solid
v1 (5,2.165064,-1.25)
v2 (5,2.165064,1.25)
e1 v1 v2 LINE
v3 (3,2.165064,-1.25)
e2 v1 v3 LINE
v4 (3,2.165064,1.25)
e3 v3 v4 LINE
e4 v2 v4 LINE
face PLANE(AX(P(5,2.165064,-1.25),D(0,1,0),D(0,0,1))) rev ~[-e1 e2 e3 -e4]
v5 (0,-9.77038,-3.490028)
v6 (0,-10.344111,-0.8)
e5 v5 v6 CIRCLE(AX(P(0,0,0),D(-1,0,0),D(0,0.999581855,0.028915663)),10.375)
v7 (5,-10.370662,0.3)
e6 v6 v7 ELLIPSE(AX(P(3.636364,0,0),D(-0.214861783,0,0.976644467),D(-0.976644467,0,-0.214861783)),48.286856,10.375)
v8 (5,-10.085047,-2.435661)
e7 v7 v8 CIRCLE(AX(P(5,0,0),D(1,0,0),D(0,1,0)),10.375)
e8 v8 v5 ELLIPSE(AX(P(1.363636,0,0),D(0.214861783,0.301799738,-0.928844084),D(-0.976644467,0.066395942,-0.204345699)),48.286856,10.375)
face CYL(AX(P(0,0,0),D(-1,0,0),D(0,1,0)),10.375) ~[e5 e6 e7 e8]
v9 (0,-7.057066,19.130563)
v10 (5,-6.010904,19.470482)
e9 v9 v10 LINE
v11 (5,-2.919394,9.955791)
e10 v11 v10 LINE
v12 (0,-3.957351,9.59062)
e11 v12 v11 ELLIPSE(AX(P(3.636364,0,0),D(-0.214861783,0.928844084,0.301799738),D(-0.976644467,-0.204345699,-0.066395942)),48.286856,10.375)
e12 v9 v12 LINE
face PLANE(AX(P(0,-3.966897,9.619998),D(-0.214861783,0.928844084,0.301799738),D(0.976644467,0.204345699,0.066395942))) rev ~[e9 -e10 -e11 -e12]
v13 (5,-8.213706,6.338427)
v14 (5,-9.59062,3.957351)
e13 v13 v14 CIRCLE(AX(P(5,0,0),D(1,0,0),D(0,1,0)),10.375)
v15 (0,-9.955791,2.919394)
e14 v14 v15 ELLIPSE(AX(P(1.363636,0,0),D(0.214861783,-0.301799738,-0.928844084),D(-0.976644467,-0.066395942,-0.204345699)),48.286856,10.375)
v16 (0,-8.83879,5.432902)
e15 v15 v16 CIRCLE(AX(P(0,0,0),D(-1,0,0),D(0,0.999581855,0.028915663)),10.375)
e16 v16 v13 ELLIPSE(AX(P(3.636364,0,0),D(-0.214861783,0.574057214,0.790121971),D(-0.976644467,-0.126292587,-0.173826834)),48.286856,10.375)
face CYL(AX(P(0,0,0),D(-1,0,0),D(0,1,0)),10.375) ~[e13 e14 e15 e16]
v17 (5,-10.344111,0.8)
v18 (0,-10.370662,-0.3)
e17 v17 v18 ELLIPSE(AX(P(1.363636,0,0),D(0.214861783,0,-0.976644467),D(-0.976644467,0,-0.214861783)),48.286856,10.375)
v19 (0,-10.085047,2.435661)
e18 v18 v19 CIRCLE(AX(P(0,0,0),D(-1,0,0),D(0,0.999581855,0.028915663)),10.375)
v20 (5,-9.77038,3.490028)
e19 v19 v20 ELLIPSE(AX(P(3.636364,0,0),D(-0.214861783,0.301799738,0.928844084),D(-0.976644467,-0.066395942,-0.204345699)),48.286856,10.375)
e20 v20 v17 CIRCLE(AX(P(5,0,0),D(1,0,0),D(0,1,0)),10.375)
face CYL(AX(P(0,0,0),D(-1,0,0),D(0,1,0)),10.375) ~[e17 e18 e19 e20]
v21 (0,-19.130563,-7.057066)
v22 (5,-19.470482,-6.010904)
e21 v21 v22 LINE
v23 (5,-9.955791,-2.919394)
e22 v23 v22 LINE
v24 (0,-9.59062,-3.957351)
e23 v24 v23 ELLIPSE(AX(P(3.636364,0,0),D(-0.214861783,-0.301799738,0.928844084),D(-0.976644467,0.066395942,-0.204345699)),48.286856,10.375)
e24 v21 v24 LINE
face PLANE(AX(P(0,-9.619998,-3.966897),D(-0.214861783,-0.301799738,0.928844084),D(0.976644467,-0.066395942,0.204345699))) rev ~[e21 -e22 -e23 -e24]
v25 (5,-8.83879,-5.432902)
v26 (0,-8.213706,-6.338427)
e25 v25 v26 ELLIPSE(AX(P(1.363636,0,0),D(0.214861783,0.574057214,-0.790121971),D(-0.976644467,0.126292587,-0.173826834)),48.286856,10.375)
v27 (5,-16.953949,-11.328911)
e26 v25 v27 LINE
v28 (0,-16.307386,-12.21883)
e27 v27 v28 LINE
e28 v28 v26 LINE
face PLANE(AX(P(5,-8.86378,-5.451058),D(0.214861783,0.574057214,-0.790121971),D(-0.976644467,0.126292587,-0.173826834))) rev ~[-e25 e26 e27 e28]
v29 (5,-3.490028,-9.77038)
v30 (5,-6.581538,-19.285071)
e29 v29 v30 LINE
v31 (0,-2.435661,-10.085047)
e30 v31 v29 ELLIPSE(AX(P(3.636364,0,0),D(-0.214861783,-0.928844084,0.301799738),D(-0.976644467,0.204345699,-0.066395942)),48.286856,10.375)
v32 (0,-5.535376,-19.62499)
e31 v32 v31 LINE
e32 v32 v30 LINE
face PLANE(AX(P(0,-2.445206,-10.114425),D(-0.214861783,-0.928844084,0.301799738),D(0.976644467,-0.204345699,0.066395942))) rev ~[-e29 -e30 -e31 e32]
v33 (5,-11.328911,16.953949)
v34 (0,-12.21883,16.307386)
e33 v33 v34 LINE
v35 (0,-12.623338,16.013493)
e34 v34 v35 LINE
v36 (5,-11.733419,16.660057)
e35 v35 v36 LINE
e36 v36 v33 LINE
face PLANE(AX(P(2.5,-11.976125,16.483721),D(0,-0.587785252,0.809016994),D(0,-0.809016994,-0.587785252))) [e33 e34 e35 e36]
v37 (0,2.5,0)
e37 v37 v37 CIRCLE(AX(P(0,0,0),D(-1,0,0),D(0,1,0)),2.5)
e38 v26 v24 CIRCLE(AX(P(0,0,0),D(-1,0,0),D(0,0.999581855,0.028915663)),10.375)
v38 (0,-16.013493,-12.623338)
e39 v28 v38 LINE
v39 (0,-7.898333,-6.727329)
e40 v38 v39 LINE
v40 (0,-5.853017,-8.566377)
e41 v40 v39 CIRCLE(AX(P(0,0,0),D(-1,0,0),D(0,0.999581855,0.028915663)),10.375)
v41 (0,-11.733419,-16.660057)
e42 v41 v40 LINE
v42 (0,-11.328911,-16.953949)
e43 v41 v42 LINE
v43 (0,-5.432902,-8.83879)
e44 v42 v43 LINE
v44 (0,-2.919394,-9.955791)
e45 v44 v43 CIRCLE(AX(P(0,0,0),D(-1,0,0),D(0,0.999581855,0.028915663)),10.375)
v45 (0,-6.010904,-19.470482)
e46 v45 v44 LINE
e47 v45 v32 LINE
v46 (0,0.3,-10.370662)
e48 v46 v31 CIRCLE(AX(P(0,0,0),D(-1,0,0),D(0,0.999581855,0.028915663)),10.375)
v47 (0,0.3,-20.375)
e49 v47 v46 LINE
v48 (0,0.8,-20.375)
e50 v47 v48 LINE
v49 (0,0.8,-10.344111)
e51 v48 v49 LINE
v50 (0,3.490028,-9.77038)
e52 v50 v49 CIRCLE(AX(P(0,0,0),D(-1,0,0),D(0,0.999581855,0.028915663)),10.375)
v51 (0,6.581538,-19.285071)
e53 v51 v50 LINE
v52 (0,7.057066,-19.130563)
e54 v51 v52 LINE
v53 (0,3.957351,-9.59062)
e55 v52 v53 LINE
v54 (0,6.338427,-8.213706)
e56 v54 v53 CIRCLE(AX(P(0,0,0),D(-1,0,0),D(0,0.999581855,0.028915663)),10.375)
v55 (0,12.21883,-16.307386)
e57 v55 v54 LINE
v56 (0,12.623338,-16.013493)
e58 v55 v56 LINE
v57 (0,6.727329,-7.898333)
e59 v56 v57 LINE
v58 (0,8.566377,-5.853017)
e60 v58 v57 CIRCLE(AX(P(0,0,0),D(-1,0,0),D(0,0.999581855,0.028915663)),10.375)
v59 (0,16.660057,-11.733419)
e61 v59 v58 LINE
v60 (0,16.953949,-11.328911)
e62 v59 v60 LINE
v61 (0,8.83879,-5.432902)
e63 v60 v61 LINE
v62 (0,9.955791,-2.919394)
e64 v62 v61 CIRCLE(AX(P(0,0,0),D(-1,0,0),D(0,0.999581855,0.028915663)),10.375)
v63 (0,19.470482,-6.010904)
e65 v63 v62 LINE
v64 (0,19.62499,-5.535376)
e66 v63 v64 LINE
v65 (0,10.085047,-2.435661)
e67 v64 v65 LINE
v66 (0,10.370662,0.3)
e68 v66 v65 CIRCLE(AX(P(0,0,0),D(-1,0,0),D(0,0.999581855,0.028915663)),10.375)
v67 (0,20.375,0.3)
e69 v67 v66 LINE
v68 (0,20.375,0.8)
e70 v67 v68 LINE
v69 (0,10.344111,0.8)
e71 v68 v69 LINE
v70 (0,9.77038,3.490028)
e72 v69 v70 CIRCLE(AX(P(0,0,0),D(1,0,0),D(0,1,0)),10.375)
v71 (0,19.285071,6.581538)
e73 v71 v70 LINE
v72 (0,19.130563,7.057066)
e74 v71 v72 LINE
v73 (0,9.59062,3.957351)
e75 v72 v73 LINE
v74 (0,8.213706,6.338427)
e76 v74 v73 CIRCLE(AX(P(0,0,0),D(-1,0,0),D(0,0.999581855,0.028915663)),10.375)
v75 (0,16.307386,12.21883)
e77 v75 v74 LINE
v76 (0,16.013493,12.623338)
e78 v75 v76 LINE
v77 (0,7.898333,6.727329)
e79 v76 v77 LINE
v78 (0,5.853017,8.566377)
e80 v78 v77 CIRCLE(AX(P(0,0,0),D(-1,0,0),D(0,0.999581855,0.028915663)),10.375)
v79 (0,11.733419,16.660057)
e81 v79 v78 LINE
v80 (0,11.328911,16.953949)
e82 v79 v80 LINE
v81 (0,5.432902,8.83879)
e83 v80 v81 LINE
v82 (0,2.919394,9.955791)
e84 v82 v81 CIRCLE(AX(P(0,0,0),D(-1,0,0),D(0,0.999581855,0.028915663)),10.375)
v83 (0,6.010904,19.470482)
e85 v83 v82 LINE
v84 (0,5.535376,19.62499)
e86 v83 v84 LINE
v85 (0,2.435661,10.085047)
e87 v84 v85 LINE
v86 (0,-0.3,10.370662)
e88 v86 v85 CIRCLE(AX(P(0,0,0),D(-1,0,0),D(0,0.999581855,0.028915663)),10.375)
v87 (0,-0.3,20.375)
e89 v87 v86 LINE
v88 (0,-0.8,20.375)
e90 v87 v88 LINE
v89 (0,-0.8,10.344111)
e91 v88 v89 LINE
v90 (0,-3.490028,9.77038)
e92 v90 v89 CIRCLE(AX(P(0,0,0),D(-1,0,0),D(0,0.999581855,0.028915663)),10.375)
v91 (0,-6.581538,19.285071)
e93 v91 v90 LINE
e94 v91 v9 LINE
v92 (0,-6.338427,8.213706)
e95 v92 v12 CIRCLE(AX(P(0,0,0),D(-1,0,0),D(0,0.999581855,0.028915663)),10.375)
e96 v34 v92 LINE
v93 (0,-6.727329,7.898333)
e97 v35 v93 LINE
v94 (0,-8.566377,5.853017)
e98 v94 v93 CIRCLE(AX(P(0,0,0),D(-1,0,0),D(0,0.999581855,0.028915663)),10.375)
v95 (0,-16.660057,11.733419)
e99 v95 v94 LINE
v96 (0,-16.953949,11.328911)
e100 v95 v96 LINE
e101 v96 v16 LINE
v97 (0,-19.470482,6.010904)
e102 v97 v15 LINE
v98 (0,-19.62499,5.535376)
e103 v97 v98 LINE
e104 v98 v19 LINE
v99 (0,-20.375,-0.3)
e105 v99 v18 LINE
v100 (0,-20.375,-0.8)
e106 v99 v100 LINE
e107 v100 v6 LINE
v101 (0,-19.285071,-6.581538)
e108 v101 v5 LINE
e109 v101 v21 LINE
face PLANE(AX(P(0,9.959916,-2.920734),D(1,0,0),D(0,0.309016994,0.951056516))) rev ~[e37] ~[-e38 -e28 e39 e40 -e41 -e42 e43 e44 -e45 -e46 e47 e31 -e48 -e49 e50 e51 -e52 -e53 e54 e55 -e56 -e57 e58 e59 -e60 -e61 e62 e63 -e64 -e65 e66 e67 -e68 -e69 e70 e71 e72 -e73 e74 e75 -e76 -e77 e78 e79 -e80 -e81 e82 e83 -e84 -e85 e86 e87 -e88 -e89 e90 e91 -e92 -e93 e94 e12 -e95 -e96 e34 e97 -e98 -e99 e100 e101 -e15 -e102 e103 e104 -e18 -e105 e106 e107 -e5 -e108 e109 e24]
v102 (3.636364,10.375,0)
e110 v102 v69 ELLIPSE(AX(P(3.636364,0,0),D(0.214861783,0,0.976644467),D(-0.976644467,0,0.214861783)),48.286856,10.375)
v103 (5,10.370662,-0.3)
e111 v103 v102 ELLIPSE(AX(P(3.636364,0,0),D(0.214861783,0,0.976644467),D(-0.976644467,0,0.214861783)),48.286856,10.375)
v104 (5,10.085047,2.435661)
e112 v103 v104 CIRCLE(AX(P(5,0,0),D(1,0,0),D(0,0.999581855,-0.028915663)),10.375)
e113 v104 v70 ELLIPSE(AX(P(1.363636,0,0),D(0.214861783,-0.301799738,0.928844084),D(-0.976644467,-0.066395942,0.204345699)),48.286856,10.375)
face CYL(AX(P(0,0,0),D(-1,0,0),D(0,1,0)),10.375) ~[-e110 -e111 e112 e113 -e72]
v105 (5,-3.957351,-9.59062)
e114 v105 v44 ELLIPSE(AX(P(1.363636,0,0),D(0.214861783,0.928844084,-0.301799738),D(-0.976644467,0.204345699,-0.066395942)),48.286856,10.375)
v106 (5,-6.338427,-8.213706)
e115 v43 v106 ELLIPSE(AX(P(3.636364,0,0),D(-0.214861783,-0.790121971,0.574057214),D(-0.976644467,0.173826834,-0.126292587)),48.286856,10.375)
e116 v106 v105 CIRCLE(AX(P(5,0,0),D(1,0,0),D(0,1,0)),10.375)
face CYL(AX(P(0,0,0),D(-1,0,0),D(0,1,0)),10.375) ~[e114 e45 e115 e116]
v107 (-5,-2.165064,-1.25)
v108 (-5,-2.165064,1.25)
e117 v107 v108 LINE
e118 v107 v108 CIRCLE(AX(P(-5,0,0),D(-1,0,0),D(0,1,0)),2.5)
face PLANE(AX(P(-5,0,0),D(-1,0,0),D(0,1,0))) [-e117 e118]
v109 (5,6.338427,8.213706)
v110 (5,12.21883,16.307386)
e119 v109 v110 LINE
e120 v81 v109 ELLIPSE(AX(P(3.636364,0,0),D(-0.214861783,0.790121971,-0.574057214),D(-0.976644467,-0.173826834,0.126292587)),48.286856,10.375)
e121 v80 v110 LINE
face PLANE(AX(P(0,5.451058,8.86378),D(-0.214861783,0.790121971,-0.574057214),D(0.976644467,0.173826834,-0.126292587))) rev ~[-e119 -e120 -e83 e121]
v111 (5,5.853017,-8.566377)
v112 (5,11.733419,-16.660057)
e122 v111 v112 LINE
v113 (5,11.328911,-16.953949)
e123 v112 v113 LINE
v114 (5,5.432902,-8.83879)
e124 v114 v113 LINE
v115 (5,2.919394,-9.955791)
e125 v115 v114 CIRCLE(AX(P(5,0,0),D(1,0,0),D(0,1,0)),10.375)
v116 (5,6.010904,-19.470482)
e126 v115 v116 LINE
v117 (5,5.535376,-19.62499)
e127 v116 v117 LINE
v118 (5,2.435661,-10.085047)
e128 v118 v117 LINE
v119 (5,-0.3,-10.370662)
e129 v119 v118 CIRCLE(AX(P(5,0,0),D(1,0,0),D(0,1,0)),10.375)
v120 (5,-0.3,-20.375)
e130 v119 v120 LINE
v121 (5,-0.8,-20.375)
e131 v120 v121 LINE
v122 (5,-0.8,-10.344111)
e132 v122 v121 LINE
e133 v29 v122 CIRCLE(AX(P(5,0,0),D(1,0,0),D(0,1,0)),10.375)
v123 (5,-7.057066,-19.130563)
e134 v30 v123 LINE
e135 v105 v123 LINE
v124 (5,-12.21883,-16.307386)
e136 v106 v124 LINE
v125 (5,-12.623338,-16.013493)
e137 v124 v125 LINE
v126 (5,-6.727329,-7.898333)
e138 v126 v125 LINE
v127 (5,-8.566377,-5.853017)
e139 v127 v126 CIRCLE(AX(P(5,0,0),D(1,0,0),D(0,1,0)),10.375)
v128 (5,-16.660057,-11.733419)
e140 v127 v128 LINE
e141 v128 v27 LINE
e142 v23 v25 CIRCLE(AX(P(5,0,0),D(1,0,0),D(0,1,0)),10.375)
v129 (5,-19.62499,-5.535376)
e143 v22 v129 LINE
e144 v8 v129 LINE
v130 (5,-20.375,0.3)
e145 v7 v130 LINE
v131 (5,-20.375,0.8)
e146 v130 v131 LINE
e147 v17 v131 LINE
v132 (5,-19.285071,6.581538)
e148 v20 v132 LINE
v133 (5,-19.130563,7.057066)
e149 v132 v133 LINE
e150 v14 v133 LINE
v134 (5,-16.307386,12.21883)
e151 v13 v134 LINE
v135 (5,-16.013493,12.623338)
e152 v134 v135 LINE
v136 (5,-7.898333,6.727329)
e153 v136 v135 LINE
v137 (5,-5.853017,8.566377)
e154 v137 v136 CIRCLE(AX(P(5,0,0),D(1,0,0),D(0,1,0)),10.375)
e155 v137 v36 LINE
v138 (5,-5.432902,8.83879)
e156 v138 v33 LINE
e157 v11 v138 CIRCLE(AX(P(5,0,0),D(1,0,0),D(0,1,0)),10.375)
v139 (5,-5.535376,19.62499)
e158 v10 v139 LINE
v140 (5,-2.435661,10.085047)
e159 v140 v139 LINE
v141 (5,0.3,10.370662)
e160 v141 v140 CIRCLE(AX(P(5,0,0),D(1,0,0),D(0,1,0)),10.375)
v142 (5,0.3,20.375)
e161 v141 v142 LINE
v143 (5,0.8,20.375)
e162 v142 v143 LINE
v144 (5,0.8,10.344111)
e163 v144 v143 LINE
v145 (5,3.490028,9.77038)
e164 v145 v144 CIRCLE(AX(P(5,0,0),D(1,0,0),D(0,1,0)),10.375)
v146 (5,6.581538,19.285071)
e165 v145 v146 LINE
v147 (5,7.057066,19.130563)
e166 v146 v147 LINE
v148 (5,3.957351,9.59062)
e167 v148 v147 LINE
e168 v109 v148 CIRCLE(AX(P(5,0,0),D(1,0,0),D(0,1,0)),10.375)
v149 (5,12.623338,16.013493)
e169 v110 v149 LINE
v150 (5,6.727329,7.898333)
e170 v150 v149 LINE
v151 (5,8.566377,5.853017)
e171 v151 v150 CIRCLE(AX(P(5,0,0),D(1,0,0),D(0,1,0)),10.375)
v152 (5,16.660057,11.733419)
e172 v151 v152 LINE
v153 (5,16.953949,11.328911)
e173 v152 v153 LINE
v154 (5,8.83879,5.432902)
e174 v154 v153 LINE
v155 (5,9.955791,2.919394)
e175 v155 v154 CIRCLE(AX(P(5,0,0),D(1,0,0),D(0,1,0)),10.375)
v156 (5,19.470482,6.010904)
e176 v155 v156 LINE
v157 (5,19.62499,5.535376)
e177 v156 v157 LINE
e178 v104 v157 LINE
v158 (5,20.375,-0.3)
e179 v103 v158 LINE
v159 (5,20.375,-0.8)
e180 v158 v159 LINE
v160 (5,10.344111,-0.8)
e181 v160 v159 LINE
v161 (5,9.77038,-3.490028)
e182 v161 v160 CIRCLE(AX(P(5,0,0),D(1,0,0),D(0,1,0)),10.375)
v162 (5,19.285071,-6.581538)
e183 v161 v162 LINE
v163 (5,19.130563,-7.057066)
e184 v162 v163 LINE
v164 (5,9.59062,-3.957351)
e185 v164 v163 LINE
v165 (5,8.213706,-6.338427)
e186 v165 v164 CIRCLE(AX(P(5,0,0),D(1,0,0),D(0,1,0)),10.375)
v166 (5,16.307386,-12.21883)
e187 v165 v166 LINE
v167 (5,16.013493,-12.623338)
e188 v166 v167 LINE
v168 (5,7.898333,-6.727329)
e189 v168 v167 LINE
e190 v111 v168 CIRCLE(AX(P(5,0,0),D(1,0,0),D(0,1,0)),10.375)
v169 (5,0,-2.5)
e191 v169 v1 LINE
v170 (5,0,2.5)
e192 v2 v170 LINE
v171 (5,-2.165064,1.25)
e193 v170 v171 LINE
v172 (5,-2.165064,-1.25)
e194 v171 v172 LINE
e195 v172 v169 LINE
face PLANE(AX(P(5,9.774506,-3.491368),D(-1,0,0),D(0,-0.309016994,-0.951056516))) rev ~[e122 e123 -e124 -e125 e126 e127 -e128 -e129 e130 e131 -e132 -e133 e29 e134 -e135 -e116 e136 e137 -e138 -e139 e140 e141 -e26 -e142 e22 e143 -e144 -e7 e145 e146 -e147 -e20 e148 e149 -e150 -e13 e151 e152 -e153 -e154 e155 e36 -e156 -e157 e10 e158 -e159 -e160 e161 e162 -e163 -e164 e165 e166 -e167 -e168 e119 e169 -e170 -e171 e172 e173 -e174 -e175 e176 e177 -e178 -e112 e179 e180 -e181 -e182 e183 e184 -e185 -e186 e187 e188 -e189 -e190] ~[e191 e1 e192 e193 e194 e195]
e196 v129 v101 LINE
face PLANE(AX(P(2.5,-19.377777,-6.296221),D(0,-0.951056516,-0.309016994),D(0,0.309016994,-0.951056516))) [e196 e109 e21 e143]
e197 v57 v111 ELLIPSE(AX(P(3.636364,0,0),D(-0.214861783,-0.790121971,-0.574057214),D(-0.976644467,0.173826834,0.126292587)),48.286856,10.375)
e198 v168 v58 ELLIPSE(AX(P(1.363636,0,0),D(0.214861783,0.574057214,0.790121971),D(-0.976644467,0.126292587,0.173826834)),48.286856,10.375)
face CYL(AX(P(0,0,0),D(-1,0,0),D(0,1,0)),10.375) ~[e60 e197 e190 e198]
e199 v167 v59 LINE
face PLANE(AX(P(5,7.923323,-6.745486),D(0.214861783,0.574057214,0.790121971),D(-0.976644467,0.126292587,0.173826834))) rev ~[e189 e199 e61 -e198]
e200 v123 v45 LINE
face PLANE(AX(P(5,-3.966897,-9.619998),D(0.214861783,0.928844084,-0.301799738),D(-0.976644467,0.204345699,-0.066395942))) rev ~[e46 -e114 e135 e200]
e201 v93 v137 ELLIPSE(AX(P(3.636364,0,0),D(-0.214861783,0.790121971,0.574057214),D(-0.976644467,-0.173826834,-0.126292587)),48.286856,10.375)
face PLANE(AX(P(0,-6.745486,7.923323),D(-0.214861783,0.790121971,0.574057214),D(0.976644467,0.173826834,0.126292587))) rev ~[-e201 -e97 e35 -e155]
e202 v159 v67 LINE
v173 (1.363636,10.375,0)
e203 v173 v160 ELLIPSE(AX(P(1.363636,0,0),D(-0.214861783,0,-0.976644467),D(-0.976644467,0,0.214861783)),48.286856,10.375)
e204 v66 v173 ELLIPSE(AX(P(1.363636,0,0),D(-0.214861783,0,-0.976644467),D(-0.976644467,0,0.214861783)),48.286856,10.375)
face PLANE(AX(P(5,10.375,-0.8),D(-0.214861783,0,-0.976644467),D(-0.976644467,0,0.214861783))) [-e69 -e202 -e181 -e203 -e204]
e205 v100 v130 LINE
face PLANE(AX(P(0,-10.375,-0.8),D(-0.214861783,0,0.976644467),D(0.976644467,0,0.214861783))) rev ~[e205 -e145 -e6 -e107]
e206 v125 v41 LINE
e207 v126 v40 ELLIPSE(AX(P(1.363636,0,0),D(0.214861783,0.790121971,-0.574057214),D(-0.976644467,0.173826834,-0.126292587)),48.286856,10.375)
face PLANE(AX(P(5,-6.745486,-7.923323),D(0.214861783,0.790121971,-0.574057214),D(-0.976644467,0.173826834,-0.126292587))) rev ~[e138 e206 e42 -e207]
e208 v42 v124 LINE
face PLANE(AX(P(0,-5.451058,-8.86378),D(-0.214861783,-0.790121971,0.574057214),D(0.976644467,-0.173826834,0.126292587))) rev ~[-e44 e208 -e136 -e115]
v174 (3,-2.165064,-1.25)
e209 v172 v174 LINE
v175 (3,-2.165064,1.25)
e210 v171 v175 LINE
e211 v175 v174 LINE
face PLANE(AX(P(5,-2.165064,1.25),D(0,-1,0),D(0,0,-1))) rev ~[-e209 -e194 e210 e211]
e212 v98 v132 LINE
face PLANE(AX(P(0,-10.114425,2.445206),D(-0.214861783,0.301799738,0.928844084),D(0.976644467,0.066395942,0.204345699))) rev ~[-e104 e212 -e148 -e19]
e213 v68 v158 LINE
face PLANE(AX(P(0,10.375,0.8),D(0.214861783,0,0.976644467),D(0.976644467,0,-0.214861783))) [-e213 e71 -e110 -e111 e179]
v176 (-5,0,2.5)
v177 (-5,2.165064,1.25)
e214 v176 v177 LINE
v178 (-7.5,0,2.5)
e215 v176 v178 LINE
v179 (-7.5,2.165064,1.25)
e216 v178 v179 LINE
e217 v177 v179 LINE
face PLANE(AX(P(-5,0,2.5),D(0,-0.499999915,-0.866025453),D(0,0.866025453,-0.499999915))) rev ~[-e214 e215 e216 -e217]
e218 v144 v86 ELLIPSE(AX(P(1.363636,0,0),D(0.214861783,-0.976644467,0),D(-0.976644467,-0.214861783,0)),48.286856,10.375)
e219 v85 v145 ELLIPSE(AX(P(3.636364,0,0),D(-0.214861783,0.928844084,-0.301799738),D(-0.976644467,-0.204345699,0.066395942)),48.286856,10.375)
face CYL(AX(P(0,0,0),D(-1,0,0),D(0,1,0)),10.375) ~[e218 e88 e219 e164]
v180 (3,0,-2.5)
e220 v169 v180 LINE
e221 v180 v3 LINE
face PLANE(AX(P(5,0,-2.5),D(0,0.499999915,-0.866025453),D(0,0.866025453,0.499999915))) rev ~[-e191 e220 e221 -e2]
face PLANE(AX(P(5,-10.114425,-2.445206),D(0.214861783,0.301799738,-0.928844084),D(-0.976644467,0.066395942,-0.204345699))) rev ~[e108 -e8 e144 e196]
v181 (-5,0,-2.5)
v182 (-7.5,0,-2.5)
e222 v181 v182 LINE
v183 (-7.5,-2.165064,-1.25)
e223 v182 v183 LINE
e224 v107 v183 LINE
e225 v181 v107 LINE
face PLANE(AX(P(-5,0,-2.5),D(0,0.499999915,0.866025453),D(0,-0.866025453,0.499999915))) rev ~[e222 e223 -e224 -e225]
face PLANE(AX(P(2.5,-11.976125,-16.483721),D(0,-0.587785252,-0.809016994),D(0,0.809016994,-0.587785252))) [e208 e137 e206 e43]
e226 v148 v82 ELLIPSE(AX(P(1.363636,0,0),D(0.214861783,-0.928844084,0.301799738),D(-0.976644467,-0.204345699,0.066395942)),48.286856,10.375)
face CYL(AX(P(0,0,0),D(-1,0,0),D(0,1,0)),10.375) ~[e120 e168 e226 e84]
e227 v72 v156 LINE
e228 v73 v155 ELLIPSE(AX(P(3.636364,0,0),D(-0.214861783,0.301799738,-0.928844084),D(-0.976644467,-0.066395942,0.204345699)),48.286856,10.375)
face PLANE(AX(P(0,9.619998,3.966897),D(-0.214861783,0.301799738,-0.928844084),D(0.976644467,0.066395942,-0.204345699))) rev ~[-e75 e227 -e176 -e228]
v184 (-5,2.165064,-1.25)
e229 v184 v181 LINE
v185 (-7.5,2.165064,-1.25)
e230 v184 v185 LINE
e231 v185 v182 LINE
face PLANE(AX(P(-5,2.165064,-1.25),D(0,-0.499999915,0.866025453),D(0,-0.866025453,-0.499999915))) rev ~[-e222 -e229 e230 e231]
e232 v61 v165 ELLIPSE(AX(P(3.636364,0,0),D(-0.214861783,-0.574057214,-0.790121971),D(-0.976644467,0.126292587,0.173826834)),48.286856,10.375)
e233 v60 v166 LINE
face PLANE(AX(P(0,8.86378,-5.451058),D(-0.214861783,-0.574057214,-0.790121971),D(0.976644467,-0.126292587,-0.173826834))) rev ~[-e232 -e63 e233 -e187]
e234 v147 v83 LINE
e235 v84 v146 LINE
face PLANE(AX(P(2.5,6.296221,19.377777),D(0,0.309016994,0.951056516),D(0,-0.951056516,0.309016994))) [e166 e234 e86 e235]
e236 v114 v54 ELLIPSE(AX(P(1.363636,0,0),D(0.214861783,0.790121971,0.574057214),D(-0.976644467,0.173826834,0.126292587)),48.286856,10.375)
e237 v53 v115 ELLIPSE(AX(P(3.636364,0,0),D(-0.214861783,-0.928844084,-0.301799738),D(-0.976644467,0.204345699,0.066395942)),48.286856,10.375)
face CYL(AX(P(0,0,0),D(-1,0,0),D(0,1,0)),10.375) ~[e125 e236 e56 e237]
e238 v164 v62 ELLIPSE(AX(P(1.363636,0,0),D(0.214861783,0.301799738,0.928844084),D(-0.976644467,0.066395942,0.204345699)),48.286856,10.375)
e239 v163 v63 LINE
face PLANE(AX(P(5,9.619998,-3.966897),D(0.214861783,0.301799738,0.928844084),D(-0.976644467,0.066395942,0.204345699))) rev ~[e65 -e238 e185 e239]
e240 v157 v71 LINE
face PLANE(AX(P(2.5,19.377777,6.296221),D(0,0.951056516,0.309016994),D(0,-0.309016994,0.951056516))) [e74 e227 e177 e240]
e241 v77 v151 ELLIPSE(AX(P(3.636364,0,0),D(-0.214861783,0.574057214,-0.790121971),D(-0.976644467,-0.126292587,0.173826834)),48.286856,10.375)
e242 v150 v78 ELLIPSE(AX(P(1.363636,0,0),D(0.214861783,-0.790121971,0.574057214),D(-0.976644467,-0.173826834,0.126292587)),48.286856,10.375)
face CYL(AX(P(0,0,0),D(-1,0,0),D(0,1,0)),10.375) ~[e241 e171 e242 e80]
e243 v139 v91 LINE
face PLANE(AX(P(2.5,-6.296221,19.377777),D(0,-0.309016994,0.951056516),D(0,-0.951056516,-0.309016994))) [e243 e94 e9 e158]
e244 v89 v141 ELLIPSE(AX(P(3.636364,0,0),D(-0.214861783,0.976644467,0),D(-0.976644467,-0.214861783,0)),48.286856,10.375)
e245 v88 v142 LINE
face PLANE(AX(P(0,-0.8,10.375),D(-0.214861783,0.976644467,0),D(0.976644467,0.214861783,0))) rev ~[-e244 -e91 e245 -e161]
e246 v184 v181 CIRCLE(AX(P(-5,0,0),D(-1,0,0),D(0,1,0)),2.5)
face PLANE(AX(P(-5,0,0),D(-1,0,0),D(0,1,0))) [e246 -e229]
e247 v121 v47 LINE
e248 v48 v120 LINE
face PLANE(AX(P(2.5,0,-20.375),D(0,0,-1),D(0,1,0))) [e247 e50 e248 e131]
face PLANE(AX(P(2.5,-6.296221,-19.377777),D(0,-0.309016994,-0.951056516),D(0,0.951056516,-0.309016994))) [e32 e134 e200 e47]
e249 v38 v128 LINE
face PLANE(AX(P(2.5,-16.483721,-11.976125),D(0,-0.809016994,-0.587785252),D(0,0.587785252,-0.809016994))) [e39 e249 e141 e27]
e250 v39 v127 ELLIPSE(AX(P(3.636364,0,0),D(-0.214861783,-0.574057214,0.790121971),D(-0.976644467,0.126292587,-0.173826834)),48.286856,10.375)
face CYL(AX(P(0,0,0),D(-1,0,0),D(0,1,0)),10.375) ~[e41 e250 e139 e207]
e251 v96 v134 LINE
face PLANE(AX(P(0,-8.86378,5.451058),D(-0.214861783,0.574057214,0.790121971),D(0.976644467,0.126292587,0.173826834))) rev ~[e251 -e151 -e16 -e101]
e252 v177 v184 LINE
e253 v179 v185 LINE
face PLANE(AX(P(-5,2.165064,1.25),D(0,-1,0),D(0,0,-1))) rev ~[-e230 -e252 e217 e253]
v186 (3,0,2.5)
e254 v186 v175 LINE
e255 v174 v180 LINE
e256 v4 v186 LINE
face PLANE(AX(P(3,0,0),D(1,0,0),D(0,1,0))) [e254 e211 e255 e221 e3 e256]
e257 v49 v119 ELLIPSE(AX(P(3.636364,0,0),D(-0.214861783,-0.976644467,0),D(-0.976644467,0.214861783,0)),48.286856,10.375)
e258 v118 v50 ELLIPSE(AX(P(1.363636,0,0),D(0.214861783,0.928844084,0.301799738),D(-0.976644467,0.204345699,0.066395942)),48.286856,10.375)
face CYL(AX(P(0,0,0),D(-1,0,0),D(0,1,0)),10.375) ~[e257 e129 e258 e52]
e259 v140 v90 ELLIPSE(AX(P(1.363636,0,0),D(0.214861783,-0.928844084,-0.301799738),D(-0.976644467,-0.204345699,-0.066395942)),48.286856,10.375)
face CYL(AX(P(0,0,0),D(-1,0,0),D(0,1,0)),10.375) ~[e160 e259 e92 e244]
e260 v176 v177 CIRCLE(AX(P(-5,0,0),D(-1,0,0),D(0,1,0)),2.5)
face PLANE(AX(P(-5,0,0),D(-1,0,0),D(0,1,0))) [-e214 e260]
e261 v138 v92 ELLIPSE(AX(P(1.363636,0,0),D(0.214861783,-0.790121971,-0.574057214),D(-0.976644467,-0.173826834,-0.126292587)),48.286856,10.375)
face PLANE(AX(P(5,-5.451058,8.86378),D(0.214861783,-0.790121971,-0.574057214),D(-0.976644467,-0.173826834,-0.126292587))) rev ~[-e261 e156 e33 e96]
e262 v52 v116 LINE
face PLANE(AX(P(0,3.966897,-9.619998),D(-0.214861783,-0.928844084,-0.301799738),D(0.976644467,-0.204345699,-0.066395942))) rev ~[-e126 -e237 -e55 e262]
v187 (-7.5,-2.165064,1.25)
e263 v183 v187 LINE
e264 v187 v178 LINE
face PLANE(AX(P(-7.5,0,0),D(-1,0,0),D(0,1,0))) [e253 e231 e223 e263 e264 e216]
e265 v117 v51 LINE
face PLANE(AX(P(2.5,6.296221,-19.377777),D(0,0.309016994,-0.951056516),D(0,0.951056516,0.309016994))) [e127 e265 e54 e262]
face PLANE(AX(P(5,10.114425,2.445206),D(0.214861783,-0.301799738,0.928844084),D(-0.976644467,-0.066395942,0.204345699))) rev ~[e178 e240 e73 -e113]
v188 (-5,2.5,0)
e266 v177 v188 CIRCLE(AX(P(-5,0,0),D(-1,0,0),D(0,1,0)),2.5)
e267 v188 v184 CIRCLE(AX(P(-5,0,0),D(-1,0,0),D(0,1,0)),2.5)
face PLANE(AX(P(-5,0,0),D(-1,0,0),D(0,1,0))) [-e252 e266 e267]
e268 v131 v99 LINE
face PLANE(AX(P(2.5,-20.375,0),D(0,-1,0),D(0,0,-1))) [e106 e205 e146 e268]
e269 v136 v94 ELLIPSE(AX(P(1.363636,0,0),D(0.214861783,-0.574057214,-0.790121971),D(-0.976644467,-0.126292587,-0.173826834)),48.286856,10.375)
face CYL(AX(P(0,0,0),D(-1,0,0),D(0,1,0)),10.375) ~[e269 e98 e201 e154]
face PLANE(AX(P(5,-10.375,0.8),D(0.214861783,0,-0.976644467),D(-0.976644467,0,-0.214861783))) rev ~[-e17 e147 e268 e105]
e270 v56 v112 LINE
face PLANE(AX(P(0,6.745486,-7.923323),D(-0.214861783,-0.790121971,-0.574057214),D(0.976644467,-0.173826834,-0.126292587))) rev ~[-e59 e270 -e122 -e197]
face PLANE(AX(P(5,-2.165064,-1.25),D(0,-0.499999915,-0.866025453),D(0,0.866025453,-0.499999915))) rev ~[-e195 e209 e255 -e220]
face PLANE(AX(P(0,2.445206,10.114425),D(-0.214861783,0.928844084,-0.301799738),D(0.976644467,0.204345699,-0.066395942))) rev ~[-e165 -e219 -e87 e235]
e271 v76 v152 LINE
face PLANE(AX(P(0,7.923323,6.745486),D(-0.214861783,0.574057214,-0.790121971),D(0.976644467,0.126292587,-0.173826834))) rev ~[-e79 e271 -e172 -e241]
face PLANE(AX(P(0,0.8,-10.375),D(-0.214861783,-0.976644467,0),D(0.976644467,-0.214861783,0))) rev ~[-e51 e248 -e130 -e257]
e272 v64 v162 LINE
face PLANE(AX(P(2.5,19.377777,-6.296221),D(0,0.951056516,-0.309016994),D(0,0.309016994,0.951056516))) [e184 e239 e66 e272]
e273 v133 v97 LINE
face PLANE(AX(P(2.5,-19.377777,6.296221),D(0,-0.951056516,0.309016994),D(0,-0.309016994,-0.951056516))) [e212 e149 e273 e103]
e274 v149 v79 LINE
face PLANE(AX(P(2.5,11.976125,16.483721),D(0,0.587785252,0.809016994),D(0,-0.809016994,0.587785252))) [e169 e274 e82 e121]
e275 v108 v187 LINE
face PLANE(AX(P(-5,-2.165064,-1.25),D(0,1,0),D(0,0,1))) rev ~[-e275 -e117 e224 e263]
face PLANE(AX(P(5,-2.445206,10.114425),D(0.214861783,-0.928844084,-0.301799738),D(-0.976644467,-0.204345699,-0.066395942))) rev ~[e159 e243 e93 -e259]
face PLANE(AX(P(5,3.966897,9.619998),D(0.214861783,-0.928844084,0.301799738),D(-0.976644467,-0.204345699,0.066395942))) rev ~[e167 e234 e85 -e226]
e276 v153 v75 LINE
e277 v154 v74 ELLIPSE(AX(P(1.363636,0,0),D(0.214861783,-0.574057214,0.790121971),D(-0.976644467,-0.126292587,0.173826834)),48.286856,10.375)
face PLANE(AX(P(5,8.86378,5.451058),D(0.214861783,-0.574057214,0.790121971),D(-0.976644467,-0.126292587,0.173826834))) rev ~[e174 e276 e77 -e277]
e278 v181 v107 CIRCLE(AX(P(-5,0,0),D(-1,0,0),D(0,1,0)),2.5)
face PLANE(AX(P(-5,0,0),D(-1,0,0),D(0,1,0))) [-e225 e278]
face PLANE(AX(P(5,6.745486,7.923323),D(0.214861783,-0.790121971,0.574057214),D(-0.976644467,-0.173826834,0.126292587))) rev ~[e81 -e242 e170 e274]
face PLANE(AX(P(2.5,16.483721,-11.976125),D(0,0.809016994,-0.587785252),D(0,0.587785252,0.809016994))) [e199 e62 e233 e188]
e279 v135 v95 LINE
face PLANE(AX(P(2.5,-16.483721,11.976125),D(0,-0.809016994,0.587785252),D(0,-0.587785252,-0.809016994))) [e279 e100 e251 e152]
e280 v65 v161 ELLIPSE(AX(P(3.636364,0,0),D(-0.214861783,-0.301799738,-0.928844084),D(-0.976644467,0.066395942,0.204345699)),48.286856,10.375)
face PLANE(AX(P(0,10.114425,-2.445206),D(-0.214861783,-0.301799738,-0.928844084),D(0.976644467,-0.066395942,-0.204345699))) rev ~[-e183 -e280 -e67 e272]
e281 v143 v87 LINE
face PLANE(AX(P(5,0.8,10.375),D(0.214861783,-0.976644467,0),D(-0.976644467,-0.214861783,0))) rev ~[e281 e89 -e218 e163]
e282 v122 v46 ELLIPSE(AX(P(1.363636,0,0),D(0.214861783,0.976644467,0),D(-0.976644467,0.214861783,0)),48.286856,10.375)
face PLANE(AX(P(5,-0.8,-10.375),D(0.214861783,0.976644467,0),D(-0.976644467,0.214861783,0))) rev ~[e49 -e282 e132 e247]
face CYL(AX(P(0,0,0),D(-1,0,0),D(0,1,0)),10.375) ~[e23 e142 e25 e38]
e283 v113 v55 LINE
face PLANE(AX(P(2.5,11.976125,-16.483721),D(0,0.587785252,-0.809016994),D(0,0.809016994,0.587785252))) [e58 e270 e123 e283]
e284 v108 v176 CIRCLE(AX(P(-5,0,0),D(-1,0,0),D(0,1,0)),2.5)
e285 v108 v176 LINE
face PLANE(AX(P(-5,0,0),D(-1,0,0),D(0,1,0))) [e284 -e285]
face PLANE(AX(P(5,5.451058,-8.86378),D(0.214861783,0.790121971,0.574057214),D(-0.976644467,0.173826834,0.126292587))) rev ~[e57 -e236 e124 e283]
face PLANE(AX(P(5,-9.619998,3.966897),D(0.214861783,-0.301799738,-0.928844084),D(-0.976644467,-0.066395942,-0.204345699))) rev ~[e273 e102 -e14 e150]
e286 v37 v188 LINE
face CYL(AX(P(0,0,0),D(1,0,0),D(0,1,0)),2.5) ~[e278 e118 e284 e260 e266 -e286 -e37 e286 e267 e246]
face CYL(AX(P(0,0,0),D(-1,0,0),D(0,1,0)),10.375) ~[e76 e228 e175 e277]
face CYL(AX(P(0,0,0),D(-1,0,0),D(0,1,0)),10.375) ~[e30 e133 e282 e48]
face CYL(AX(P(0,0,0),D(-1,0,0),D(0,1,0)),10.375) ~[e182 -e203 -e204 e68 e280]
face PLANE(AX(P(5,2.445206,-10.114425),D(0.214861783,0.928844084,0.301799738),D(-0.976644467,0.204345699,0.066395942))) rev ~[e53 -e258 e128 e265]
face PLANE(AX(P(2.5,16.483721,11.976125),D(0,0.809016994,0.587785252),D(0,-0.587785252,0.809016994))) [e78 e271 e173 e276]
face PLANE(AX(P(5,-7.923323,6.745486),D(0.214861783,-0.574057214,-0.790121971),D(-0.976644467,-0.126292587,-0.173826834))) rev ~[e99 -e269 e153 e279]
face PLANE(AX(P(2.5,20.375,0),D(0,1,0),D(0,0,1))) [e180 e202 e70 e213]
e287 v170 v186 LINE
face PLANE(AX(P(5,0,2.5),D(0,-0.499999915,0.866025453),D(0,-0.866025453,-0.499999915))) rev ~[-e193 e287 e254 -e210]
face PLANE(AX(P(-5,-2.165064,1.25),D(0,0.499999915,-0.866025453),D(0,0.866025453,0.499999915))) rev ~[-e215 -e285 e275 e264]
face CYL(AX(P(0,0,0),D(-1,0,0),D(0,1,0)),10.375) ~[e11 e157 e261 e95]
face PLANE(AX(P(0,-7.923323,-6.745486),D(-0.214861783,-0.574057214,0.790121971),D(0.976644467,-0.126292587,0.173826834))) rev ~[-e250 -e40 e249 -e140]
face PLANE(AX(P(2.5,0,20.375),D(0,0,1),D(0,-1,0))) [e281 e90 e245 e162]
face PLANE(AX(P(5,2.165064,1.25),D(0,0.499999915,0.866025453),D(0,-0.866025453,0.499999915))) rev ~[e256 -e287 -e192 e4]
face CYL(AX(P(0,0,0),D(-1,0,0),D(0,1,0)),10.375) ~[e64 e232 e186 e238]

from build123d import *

# Parameters (mm, degrees)
SKETCH_R           = 10.375
PAD_DEPTH          = 5
POCKET_DEPTH       = 2
PAD001_DEPTH       = 10
PAD001_DEPTH_BACK  = 1
POLARPATTERN_COUNT = 20
SKETCH003_R        = 2.5
PAD002_DEPTH       = 5
PAD003_DEPTH       = 2.5


with BuildPart() as part:
    # Sketch → Pad (new body)
    with BuildSketch(Plane.YZ):
        Circle(SKETCH_R)
    extrude(amount=PAD_DEPTH)

    # Sketch001 (on Face3 of Pad) → Pocket (cut)
    with BuildSketch(Plane.YZ.offset(5)):
        Polygon((2.165064, 1.25), (0, 2.5), (-2.165064, 1.25), (-2.165064, -1.25), (0, -2.5), (2.165064, -1.25), align=None)
    extrude(amount=-POCKET_DEPTH, mode=Mode.SUBTRACT)

    # Sketch002 (on DatumPlane) → Pad001 (join, two sides)
    with BuildSketch(Plane.ZX.offset(10.375)) as pad001_sk:
        Polygon((0.8, 0), (-0.3, 5), (-0.8, 5), (0.3, 0), align=None)
    pad001 = extrude(amount=PAD001_DEPTH) + extrude(pad001_sk.sketch, amount=-PAD001_DEPTH_BACK)

    # PolarPattern: Pad001 ×20 about axis
    polarpattern_axis = Axis((0, 0, 0), (1, 0, 0))
    for i in range(1, POLARPATTERN_COUNT):
        add(pad001.rotate(polarpattern_axis, i * 360 / POLARPATTERN_COUNT))

    # Sketch003 (on Face2 of PolarPattern) → Pad002 (join)
    with BuildSketch(Plane(origin=(0, 0, 0), x_dir=(0, 1, 0), z_dir=(-1, 0, 0))):
        Circle(SKETCH003_R)
    extrude(amount=PAD002_DEPTH)

    # Sketch004 (on Face108 of Pad002) → Pad003 (join)
    with BuildSketch(Plane(origin=(-5, 0, 0), x_dir=(0, 1, 0), z_dir=(-1, 0, 0))):
        Polygon((2.165064, 1.25), (0, 2.5), (-2.165064, 1.25), (-2.165064, -1.25), (0, -2.5), (2.165064, -1.25), align=None)
    extrude(amount=PAD003_DEPTH)


solid = part.part
